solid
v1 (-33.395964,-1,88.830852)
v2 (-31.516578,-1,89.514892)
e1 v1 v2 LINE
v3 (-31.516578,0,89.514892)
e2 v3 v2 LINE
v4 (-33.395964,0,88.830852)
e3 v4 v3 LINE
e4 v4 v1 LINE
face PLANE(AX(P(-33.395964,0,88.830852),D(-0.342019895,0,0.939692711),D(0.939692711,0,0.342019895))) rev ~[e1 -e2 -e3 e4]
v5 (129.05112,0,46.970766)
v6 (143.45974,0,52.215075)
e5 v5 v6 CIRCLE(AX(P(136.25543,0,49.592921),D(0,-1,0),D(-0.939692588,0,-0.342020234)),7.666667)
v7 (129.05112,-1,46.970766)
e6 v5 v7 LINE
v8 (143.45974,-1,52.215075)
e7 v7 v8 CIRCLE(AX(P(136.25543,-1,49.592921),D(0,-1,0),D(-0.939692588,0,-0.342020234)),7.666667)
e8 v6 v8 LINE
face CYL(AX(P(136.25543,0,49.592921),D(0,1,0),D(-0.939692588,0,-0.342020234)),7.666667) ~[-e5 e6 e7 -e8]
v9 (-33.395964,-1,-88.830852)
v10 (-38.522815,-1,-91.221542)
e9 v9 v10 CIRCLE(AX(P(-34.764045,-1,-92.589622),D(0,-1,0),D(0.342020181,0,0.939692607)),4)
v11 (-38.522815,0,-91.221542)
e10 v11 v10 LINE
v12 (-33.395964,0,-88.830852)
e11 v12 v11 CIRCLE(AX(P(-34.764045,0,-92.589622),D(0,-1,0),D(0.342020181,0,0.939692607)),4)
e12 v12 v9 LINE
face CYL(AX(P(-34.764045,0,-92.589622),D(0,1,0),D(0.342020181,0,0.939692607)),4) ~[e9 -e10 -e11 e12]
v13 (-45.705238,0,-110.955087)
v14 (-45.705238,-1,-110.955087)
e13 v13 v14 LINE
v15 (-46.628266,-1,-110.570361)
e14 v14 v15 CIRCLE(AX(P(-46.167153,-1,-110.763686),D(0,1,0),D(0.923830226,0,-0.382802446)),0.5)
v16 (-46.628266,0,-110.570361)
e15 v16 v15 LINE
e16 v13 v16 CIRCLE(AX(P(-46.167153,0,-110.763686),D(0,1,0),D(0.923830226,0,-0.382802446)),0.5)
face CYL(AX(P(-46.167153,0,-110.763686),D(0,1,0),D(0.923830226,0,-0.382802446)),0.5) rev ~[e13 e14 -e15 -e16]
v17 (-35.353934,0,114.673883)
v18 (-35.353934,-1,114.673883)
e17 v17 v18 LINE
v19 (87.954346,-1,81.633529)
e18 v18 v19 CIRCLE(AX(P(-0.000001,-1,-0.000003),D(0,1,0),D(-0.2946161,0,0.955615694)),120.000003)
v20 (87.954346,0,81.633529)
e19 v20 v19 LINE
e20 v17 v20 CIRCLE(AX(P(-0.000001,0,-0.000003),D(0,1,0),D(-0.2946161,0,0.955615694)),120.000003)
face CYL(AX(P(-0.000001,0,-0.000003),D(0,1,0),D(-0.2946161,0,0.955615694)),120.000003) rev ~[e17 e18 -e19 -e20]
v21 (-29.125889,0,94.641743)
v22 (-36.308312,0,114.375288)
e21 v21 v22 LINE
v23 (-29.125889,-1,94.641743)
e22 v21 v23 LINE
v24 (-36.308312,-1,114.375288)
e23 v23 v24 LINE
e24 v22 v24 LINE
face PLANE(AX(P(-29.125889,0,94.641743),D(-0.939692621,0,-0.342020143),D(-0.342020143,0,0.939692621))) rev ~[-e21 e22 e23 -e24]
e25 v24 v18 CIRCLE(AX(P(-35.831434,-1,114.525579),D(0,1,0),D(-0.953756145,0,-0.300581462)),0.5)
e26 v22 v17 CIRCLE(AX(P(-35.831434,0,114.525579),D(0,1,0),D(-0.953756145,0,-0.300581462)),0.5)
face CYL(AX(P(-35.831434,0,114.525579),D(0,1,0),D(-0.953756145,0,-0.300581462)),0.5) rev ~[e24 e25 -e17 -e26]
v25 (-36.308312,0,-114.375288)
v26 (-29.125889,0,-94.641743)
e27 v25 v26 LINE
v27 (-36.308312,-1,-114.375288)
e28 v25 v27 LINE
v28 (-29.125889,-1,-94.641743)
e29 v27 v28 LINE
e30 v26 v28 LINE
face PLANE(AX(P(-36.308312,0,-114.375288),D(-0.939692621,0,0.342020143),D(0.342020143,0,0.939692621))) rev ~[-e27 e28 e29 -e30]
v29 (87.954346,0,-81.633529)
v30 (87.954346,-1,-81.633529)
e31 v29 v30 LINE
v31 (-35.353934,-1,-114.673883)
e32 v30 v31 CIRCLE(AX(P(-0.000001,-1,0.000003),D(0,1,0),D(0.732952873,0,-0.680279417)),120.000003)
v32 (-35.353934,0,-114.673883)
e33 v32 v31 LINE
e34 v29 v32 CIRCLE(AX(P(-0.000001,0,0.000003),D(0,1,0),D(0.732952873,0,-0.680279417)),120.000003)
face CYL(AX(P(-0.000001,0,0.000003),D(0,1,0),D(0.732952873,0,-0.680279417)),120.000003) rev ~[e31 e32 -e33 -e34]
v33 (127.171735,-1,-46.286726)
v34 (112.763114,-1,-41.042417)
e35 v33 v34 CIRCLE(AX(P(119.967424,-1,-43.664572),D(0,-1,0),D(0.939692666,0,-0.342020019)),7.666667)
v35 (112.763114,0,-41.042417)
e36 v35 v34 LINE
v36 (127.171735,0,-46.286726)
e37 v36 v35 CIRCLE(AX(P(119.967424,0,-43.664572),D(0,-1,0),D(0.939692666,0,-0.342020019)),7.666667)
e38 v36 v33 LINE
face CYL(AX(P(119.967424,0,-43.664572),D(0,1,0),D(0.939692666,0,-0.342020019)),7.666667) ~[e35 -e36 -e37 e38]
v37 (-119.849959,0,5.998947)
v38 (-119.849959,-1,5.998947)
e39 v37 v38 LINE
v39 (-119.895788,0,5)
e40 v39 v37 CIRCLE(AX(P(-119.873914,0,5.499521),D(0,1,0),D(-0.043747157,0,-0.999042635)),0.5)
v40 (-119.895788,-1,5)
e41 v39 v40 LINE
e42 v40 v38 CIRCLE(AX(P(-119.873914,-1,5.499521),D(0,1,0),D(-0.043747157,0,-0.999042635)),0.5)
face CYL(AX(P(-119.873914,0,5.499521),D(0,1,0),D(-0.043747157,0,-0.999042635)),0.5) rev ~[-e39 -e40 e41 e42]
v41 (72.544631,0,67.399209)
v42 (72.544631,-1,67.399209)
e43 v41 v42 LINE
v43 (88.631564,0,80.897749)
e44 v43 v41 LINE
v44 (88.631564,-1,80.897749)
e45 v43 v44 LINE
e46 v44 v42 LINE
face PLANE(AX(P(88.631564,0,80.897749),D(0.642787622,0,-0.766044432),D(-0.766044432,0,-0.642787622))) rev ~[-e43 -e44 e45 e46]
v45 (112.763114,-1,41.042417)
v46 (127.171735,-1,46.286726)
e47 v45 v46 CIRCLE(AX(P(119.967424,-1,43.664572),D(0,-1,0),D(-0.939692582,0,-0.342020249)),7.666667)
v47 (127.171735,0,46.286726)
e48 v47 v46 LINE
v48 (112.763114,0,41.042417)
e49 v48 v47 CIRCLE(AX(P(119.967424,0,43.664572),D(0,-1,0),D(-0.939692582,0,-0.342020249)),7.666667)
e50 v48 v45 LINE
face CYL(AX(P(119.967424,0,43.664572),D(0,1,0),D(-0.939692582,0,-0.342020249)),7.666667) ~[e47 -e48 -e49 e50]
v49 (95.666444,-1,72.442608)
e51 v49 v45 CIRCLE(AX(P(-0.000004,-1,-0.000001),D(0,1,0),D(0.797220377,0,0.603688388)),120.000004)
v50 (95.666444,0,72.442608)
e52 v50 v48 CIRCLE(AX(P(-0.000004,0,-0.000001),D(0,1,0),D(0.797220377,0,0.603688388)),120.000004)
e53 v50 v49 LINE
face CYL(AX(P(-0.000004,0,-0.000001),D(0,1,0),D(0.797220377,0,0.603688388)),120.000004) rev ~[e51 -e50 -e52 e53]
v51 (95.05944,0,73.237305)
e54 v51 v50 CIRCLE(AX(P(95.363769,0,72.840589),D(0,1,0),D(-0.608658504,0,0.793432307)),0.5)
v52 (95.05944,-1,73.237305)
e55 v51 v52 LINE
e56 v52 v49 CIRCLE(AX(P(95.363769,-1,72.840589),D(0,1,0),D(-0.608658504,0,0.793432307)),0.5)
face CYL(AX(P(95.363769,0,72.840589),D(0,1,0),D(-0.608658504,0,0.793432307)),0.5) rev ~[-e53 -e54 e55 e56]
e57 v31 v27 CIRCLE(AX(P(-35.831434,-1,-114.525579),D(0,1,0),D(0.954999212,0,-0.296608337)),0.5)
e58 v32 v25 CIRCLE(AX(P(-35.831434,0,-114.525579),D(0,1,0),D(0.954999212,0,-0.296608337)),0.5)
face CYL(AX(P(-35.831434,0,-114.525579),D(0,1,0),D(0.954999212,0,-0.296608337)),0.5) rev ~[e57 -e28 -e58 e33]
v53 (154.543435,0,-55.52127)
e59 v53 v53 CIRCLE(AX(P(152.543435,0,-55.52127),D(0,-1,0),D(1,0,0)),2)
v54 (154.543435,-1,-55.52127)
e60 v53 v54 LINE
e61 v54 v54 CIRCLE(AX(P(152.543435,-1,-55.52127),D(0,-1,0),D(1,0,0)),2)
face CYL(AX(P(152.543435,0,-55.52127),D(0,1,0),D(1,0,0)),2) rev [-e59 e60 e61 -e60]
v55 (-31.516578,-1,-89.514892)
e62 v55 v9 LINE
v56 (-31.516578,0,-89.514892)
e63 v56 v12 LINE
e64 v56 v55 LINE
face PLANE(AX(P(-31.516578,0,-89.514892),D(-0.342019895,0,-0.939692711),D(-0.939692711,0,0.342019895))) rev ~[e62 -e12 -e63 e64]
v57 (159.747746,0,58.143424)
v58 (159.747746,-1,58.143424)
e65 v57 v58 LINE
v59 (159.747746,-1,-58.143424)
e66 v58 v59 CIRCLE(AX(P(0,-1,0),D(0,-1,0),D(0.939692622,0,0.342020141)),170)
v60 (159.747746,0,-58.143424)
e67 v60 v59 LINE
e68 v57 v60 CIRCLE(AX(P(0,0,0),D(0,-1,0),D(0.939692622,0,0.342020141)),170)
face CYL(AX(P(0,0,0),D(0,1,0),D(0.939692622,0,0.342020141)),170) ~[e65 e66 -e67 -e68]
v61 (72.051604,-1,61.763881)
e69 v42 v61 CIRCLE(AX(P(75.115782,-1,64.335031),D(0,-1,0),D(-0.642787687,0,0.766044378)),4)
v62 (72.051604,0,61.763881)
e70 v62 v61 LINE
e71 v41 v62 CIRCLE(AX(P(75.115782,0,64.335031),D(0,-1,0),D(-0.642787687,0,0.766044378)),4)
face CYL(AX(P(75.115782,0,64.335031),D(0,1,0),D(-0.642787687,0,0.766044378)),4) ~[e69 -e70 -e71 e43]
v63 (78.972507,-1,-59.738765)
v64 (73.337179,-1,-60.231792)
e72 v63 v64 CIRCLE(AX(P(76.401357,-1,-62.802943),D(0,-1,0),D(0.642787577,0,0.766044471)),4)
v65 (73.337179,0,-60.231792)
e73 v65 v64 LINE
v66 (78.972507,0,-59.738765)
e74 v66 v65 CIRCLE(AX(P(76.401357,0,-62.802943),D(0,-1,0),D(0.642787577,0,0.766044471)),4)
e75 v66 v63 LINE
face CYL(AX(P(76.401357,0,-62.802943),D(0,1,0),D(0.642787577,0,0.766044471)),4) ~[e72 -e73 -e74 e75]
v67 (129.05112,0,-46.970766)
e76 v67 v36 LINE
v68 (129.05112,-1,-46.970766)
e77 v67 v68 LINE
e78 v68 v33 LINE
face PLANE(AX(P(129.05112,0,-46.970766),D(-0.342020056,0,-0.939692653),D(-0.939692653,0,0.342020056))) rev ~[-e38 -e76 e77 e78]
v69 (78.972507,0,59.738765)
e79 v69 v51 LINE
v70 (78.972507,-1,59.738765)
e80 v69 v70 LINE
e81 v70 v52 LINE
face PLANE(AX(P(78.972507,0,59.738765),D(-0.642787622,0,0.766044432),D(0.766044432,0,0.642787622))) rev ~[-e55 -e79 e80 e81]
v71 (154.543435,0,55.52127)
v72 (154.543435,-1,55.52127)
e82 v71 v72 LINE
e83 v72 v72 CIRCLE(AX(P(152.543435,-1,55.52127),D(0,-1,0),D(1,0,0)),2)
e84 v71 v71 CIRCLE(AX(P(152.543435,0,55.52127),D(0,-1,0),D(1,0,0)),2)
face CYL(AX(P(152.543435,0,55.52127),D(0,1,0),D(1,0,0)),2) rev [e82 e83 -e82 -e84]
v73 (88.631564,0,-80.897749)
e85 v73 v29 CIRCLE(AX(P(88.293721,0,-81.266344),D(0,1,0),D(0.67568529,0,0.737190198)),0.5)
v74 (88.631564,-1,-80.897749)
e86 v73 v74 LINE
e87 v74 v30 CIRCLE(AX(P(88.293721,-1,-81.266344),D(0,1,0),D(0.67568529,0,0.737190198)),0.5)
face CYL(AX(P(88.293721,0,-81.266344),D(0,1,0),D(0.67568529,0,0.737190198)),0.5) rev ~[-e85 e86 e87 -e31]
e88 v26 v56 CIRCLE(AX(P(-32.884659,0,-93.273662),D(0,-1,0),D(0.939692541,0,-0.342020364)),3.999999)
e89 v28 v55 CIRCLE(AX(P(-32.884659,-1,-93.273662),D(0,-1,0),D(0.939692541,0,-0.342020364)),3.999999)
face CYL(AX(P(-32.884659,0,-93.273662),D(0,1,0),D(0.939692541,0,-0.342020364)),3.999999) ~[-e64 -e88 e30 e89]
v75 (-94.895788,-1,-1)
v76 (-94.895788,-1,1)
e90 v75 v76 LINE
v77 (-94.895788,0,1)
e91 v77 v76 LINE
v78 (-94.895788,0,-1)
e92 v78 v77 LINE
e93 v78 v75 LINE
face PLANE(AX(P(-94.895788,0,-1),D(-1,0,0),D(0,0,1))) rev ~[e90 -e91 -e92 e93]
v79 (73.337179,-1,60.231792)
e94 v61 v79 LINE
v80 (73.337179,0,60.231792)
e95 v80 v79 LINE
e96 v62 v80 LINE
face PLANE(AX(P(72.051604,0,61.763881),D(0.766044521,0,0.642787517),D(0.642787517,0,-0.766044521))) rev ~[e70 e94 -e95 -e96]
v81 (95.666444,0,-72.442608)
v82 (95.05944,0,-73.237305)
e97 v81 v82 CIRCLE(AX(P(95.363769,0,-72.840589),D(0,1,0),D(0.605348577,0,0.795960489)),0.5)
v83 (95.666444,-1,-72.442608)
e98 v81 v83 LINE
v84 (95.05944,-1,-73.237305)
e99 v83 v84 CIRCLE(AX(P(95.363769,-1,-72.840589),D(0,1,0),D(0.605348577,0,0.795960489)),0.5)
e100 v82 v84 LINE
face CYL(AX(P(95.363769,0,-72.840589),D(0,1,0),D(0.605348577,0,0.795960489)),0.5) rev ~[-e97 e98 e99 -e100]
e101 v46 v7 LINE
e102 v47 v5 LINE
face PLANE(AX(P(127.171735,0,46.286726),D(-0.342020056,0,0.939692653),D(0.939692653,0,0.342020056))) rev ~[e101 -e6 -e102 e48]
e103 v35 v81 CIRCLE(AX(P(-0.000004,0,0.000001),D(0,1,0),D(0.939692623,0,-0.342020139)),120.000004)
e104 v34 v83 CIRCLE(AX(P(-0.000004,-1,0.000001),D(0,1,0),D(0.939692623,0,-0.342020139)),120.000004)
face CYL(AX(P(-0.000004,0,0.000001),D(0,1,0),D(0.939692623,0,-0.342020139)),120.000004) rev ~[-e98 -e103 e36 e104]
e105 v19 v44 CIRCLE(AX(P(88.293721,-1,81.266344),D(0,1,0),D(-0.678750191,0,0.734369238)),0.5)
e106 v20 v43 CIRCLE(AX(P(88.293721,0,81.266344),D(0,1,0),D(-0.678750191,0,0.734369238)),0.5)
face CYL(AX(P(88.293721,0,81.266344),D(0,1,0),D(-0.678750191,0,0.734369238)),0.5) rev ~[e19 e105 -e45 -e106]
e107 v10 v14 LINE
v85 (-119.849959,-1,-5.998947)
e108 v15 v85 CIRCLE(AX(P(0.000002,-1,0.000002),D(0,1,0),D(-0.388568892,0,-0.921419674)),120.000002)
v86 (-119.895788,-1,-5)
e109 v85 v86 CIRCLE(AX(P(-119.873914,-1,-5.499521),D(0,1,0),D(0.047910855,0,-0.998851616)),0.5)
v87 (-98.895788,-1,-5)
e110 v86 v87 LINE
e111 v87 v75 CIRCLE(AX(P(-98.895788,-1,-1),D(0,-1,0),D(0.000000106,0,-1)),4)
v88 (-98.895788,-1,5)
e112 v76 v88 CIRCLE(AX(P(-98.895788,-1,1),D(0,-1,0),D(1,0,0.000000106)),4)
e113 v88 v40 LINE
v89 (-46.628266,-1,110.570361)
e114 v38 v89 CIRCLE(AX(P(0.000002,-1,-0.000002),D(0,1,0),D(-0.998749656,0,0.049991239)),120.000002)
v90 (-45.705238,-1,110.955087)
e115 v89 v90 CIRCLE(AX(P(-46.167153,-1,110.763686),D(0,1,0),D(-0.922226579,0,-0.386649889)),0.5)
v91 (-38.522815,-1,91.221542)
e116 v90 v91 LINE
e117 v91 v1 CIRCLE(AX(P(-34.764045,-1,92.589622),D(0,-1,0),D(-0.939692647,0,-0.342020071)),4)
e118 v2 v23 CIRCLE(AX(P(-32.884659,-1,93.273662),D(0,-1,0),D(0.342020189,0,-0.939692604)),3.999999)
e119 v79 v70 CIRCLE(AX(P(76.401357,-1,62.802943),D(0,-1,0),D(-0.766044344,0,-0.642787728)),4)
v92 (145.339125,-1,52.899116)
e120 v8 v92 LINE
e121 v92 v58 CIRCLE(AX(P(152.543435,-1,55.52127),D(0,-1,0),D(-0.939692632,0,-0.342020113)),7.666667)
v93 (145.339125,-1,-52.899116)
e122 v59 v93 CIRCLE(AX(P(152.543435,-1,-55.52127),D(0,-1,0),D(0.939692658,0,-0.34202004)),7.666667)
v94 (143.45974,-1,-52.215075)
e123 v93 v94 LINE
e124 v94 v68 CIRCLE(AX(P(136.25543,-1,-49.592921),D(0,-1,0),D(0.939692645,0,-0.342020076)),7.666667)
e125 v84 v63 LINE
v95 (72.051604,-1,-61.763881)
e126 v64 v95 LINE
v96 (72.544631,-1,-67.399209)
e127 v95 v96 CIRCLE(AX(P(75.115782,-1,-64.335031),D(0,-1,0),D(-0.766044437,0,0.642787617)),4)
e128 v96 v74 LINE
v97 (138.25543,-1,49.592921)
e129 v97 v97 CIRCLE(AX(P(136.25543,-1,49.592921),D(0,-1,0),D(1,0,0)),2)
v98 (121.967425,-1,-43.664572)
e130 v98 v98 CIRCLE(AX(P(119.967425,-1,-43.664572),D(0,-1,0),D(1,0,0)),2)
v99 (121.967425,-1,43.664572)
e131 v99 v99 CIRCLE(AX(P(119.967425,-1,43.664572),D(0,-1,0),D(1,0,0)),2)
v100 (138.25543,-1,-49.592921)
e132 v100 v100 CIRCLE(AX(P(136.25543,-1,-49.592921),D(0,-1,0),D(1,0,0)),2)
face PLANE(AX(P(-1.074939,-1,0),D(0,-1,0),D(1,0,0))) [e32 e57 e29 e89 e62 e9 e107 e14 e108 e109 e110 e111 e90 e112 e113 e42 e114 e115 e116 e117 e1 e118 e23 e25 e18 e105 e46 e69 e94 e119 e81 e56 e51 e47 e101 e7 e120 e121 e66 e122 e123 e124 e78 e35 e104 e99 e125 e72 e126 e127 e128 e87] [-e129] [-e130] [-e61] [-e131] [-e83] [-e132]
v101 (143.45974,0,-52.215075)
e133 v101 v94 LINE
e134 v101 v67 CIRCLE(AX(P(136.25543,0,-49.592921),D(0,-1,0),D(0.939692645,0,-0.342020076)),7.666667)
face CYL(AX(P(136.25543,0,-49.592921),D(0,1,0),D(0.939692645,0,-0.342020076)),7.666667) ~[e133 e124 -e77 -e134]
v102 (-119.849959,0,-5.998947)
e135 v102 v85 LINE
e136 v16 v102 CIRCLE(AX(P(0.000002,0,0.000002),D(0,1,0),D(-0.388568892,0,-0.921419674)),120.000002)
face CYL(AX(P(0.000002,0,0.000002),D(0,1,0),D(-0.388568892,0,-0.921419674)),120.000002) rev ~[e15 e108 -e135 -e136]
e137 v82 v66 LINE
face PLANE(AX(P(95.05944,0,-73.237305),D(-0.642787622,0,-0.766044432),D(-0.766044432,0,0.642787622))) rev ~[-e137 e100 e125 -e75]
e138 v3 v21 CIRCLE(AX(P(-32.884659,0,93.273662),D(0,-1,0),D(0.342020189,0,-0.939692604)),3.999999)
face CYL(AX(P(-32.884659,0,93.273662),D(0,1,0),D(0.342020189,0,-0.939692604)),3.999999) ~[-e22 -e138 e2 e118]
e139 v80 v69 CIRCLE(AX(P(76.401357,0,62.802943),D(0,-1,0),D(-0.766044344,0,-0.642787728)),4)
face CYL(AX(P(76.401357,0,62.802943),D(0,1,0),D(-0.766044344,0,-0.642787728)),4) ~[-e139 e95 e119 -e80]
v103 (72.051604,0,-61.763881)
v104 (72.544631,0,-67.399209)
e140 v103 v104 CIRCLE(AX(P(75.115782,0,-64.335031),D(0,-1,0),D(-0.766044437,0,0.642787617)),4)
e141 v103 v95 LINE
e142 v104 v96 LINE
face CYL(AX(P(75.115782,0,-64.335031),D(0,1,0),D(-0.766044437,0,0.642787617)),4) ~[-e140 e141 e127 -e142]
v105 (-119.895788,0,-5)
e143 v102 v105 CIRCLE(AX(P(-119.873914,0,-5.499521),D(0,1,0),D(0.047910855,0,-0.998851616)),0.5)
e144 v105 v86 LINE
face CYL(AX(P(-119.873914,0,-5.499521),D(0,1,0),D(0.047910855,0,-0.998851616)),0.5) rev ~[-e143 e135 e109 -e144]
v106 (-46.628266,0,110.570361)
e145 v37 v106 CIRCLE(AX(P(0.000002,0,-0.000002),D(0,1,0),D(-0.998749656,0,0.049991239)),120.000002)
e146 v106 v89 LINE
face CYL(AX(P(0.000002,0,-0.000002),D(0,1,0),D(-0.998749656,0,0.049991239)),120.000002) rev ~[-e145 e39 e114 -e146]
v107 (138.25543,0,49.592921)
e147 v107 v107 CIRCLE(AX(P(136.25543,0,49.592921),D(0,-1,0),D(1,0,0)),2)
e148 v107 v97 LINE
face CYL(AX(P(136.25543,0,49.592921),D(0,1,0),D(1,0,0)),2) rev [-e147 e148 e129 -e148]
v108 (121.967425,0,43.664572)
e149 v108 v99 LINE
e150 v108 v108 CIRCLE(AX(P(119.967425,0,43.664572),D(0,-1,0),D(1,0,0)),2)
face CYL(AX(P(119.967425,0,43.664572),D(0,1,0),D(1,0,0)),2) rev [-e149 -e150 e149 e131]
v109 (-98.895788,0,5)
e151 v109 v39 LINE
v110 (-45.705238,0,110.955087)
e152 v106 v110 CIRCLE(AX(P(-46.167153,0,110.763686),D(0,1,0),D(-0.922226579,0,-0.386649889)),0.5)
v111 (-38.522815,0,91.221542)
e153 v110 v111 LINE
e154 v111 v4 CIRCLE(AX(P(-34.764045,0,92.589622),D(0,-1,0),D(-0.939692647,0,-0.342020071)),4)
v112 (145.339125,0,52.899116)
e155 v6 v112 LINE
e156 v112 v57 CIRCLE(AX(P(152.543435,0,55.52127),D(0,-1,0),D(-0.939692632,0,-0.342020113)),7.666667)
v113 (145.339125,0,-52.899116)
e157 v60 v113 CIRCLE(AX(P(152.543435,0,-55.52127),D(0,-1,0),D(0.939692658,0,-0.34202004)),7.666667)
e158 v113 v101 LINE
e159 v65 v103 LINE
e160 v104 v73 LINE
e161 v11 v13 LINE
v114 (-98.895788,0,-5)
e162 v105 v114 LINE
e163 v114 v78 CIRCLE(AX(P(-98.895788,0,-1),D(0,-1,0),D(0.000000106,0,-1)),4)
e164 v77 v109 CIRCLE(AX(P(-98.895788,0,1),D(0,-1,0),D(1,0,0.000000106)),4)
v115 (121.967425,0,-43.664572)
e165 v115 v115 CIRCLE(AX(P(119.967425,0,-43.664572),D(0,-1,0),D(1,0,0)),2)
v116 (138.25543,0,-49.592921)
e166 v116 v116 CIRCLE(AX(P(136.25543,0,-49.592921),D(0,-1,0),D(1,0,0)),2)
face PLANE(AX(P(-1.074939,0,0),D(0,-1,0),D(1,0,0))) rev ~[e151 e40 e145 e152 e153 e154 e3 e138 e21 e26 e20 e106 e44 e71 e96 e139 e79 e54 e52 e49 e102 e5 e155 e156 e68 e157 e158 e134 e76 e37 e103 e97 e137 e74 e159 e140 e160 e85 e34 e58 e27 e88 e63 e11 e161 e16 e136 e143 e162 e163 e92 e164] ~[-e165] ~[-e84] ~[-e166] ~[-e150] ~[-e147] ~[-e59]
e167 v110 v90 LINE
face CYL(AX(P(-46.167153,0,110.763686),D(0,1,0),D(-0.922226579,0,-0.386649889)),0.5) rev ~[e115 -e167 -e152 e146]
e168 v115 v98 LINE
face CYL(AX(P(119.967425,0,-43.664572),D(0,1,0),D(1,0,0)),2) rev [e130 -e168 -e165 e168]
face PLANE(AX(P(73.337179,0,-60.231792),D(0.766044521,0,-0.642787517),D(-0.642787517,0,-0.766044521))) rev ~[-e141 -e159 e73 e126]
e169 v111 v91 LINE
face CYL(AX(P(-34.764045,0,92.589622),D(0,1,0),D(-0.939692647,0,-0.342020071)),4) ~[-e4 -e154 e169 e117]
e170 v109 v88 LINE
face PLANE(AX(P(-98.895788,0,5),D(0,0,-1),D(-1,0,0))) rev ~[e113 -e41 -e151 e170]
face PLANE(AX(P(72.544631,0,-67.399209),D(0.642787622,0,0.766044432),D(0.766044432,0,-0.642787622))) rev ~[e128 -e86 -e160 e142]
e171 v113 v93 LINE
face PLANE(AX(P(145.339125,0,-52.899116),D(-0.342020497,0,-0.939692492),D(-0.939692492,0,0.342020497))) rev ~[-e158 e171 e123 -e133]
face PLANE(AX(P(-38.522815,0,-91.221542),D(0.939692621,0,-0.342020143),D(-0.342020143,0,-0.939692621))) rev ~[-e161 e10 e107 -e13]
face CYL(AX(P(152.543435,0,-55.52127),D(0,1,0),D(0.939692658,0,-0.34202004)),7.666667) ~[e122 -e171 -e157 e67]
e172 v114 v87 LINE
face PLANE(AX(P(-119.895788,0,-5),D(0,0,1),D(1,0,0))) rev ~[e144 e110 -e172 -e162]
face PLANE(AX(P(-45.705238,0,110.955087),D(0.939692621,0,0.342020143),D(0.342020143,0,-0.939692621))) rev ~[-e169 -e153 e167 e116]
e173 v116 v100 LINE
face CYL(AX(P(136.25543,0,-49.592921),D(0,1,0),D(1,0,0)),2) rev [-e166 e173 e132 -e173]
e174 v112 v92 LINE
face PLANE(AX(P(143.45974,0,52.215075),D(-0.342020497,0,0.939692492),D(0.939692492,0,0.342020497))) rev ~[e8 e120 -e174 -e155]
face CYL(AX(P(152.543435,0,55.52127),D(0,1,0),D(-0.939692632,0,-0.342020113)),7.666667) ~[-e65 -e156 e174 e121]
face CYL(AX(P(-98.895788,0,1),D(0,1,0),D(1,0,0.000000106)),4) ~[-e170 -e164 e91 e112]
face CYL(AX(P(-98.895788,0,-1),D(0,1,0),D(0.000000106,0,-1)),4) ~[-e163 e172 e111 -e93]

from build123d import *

# Parameters (mm, degrees)
F0_R     = 2
F1_DEPTH = 1


with BuildPart() as f1:
    # F0 (on Front) → F1 (new body)
    with BuildSketch(Plane.XZ):
        with BuildLine():
            ThreePointArc((95.666444, 72.442608), (105.390764, 57.382809), (112.763114, 41.042417))
            ThreePointArc((112.763114, 41.042417), (122.589579, 36.460262), (127.171735, 46.286726))
            Line((127.171735, 46.286726), (129.05112, 46.970766))
            ThreePointArc((129.05112, 46.970766), (138.877584, 42.388611), (143.45974, 52.215075))
            Line((143.45974, 52.215075), (145.339125, 52.899116))
            ThreePointArc((145.339125, 52.899116), (155.16559, 48.31696), (159.747746, 58.143424))
            ThreePointArc((159.747746, 58.143424), (-170, 0), (159.747746, -58.143424))
            ThreePointArc((159.747746, -58.143424), (155.16559, -48.31696), (145.339125, -52.899116))
            Line((145.339125, -52.899116), (143.45974, -52.215075))
            ThreePointArc((143.45974, -52.215075), (138.877584, -42.388611), (129.05112, -46.970766))
            Line((129.05112, -46.970766), (127.171735, -46.286726))
            ThreePointArc((127.171735, -46.286726), (122.589579, -36.460262), (112.763114, -41.042417))
            ThreePointArc((112.763114, -41.042417), (105.390764, -57.382809), (95.666444, -72.442608))
            ThreePointArc((95.666444, -72.442608), (95.761119, -73.144091), (95.05944, -73.237305))
            Line((95.05944, -73.237305), (78.972507, -59.738765))
            ThreePointArc((78.972507, -59.738765), (76.052734, -58.818164), (73.337179, -60.231792))
            Line((73.337179, -60.231792), (72.051604, -61.763881))
            ThreePointArc((72.051604, -61.763881), (71.131003, -64.683655), (72.544631, -67.399209))
            Line((72.544631, -67.399209), (88.631564, -80.897749))
            ThreePointArc((88.631564, -80.897749), (88.661612, -81.604954), (87.954346, -81.633529))
            ThreePointArc((87.954346, -81.633529), (31.058285, -115.911099), (-35.353934, -114.673883))
            ThreePointArc((-35.353934, -114.673883), (-35.980731, -115.002769), (-36.308312, -114.375288))
            Line((-36.308312, -114.375288), (-29.125889, -94.641743))
            ThreePointArc((-29.125889, -94.641743), (-29.259428, -91.583189), (-31.516578, -89.514892))
            Line((-31.516578, -89.514892), (-33.395964, -88.830852))
            ThreePointArc((-33.395964, -88.830852), (-36.454517, -88.964391), (-38.522815, -91.221542))
            Line((-38.522815, -91.221542), (-45.705238, -110.955087))
            ThreePointArc((-45.705238, -110.955087), (-46.359516, -111.225201), (-46.628266, -110.570361))
            ThreePointArc((-46.628266, -110.570361), (-98.298245, -68.829172), (-119.849959, -5.998947))
            ThreePointArc((-119.849959, -5.998947), (-120.373389, -5.522436), (-119.895788, -5))
            Line((-119.895788, -5), (-98.895788, -5))
            ThreePointArc((-98.895788, -5), (-96.067361, -3.828427), (-94.895788, -1))
            Line((-94.895788, -1), (-94.895788, 1))
            ThreePointArc((-94.895788, 1), (-96.067361, 3.828427), (-98.895788, 5))
            Line((-98.895788, 5), (-119.895788, 5))
            ThreePointArc((-119.895788, 5), (-120.373389, 5.522436), (-119.849959, 5.998947))
            ThreePointArc((-119.849959, 5.998947), (-98.298245, 68.829172), (-46.628266, 110.570361))
            ThreePointArc((-46.628266, 110.570361), (-46.359516, 111.225201), (-45.705238, 110.955087))
            Line((-45.705238, 110.955087), (-38.522815, 91.221542))
            ThreePointArc((-38.522815, 91.221542), (-36.454517, 88.964391), (-33.395964, 88.830852))
            Line((-33.395964, 88.830852), (-31.516578, 89.514892))
            ThreePointArc((-31.516578, 89.514892), (-29.259428, 91.583189), (-29.125889, 94.641743))
            Line((-29.125889, 94.641743), (-36.308312, 114.375288))
            ThreePointArc((-36.308312, 114.375288), (-35.980731, 115.002769), (-35.353934, 114.673883))
            ThreePointArc((-35.353934, 114.673883), (31.058285, 115.911099), (87.954346, 81.633529))
            ThreePointArc((87.954346, 81.633529), (88.661612, 81.604954), (88.631564, 80.897749))
            Line((88.631564, 80.897749), (72.544631, 67.399209))
            ThreePointArc((72.544631, 67.399209), (71.131003, 64.683655), (72.051604, 61.763881))
            Line((72.051604, 61.763881), (73.337179, 60.231792))
            ThreePointArc((73.337179, 60.231792), (76.052734, 58.818164), (78.972507, 59.738765))
            Line((78.972507, 59.738765), (95.05944, 73.237305))
            ThreePointArc((95.05944, 73.237305), (95.761119, 73.144091), (95.666444, 72.442608))
        make_face()
        with Locations((119.967425, -43.664572)):
            Circle(F0_R, mode=Mode.SUBTRACT)
        with Locations((136.25543, -49.592921)):
            Circle(F0_R, mode=Mode.SUBTRACT)
        with Locations((152.543435, -55.52127)):
            Circle(F0_R, mode=Mode.SUBTRACT)
        with Locations((119.967425, 43.664572)):
            Circle(F0_R, mode=Mode.SUBTRACT)
        with Locations((136.25543, 49.592921)):
            Circle(F0_R, mode=Mode.SUBTRACT)
        with Locations((152.543435, 55.52127)):
            Circle(F0_R, mode=Mode.SUBTRACT)
    extrude(amount=F1_DEPTH)


solid = f1.part
